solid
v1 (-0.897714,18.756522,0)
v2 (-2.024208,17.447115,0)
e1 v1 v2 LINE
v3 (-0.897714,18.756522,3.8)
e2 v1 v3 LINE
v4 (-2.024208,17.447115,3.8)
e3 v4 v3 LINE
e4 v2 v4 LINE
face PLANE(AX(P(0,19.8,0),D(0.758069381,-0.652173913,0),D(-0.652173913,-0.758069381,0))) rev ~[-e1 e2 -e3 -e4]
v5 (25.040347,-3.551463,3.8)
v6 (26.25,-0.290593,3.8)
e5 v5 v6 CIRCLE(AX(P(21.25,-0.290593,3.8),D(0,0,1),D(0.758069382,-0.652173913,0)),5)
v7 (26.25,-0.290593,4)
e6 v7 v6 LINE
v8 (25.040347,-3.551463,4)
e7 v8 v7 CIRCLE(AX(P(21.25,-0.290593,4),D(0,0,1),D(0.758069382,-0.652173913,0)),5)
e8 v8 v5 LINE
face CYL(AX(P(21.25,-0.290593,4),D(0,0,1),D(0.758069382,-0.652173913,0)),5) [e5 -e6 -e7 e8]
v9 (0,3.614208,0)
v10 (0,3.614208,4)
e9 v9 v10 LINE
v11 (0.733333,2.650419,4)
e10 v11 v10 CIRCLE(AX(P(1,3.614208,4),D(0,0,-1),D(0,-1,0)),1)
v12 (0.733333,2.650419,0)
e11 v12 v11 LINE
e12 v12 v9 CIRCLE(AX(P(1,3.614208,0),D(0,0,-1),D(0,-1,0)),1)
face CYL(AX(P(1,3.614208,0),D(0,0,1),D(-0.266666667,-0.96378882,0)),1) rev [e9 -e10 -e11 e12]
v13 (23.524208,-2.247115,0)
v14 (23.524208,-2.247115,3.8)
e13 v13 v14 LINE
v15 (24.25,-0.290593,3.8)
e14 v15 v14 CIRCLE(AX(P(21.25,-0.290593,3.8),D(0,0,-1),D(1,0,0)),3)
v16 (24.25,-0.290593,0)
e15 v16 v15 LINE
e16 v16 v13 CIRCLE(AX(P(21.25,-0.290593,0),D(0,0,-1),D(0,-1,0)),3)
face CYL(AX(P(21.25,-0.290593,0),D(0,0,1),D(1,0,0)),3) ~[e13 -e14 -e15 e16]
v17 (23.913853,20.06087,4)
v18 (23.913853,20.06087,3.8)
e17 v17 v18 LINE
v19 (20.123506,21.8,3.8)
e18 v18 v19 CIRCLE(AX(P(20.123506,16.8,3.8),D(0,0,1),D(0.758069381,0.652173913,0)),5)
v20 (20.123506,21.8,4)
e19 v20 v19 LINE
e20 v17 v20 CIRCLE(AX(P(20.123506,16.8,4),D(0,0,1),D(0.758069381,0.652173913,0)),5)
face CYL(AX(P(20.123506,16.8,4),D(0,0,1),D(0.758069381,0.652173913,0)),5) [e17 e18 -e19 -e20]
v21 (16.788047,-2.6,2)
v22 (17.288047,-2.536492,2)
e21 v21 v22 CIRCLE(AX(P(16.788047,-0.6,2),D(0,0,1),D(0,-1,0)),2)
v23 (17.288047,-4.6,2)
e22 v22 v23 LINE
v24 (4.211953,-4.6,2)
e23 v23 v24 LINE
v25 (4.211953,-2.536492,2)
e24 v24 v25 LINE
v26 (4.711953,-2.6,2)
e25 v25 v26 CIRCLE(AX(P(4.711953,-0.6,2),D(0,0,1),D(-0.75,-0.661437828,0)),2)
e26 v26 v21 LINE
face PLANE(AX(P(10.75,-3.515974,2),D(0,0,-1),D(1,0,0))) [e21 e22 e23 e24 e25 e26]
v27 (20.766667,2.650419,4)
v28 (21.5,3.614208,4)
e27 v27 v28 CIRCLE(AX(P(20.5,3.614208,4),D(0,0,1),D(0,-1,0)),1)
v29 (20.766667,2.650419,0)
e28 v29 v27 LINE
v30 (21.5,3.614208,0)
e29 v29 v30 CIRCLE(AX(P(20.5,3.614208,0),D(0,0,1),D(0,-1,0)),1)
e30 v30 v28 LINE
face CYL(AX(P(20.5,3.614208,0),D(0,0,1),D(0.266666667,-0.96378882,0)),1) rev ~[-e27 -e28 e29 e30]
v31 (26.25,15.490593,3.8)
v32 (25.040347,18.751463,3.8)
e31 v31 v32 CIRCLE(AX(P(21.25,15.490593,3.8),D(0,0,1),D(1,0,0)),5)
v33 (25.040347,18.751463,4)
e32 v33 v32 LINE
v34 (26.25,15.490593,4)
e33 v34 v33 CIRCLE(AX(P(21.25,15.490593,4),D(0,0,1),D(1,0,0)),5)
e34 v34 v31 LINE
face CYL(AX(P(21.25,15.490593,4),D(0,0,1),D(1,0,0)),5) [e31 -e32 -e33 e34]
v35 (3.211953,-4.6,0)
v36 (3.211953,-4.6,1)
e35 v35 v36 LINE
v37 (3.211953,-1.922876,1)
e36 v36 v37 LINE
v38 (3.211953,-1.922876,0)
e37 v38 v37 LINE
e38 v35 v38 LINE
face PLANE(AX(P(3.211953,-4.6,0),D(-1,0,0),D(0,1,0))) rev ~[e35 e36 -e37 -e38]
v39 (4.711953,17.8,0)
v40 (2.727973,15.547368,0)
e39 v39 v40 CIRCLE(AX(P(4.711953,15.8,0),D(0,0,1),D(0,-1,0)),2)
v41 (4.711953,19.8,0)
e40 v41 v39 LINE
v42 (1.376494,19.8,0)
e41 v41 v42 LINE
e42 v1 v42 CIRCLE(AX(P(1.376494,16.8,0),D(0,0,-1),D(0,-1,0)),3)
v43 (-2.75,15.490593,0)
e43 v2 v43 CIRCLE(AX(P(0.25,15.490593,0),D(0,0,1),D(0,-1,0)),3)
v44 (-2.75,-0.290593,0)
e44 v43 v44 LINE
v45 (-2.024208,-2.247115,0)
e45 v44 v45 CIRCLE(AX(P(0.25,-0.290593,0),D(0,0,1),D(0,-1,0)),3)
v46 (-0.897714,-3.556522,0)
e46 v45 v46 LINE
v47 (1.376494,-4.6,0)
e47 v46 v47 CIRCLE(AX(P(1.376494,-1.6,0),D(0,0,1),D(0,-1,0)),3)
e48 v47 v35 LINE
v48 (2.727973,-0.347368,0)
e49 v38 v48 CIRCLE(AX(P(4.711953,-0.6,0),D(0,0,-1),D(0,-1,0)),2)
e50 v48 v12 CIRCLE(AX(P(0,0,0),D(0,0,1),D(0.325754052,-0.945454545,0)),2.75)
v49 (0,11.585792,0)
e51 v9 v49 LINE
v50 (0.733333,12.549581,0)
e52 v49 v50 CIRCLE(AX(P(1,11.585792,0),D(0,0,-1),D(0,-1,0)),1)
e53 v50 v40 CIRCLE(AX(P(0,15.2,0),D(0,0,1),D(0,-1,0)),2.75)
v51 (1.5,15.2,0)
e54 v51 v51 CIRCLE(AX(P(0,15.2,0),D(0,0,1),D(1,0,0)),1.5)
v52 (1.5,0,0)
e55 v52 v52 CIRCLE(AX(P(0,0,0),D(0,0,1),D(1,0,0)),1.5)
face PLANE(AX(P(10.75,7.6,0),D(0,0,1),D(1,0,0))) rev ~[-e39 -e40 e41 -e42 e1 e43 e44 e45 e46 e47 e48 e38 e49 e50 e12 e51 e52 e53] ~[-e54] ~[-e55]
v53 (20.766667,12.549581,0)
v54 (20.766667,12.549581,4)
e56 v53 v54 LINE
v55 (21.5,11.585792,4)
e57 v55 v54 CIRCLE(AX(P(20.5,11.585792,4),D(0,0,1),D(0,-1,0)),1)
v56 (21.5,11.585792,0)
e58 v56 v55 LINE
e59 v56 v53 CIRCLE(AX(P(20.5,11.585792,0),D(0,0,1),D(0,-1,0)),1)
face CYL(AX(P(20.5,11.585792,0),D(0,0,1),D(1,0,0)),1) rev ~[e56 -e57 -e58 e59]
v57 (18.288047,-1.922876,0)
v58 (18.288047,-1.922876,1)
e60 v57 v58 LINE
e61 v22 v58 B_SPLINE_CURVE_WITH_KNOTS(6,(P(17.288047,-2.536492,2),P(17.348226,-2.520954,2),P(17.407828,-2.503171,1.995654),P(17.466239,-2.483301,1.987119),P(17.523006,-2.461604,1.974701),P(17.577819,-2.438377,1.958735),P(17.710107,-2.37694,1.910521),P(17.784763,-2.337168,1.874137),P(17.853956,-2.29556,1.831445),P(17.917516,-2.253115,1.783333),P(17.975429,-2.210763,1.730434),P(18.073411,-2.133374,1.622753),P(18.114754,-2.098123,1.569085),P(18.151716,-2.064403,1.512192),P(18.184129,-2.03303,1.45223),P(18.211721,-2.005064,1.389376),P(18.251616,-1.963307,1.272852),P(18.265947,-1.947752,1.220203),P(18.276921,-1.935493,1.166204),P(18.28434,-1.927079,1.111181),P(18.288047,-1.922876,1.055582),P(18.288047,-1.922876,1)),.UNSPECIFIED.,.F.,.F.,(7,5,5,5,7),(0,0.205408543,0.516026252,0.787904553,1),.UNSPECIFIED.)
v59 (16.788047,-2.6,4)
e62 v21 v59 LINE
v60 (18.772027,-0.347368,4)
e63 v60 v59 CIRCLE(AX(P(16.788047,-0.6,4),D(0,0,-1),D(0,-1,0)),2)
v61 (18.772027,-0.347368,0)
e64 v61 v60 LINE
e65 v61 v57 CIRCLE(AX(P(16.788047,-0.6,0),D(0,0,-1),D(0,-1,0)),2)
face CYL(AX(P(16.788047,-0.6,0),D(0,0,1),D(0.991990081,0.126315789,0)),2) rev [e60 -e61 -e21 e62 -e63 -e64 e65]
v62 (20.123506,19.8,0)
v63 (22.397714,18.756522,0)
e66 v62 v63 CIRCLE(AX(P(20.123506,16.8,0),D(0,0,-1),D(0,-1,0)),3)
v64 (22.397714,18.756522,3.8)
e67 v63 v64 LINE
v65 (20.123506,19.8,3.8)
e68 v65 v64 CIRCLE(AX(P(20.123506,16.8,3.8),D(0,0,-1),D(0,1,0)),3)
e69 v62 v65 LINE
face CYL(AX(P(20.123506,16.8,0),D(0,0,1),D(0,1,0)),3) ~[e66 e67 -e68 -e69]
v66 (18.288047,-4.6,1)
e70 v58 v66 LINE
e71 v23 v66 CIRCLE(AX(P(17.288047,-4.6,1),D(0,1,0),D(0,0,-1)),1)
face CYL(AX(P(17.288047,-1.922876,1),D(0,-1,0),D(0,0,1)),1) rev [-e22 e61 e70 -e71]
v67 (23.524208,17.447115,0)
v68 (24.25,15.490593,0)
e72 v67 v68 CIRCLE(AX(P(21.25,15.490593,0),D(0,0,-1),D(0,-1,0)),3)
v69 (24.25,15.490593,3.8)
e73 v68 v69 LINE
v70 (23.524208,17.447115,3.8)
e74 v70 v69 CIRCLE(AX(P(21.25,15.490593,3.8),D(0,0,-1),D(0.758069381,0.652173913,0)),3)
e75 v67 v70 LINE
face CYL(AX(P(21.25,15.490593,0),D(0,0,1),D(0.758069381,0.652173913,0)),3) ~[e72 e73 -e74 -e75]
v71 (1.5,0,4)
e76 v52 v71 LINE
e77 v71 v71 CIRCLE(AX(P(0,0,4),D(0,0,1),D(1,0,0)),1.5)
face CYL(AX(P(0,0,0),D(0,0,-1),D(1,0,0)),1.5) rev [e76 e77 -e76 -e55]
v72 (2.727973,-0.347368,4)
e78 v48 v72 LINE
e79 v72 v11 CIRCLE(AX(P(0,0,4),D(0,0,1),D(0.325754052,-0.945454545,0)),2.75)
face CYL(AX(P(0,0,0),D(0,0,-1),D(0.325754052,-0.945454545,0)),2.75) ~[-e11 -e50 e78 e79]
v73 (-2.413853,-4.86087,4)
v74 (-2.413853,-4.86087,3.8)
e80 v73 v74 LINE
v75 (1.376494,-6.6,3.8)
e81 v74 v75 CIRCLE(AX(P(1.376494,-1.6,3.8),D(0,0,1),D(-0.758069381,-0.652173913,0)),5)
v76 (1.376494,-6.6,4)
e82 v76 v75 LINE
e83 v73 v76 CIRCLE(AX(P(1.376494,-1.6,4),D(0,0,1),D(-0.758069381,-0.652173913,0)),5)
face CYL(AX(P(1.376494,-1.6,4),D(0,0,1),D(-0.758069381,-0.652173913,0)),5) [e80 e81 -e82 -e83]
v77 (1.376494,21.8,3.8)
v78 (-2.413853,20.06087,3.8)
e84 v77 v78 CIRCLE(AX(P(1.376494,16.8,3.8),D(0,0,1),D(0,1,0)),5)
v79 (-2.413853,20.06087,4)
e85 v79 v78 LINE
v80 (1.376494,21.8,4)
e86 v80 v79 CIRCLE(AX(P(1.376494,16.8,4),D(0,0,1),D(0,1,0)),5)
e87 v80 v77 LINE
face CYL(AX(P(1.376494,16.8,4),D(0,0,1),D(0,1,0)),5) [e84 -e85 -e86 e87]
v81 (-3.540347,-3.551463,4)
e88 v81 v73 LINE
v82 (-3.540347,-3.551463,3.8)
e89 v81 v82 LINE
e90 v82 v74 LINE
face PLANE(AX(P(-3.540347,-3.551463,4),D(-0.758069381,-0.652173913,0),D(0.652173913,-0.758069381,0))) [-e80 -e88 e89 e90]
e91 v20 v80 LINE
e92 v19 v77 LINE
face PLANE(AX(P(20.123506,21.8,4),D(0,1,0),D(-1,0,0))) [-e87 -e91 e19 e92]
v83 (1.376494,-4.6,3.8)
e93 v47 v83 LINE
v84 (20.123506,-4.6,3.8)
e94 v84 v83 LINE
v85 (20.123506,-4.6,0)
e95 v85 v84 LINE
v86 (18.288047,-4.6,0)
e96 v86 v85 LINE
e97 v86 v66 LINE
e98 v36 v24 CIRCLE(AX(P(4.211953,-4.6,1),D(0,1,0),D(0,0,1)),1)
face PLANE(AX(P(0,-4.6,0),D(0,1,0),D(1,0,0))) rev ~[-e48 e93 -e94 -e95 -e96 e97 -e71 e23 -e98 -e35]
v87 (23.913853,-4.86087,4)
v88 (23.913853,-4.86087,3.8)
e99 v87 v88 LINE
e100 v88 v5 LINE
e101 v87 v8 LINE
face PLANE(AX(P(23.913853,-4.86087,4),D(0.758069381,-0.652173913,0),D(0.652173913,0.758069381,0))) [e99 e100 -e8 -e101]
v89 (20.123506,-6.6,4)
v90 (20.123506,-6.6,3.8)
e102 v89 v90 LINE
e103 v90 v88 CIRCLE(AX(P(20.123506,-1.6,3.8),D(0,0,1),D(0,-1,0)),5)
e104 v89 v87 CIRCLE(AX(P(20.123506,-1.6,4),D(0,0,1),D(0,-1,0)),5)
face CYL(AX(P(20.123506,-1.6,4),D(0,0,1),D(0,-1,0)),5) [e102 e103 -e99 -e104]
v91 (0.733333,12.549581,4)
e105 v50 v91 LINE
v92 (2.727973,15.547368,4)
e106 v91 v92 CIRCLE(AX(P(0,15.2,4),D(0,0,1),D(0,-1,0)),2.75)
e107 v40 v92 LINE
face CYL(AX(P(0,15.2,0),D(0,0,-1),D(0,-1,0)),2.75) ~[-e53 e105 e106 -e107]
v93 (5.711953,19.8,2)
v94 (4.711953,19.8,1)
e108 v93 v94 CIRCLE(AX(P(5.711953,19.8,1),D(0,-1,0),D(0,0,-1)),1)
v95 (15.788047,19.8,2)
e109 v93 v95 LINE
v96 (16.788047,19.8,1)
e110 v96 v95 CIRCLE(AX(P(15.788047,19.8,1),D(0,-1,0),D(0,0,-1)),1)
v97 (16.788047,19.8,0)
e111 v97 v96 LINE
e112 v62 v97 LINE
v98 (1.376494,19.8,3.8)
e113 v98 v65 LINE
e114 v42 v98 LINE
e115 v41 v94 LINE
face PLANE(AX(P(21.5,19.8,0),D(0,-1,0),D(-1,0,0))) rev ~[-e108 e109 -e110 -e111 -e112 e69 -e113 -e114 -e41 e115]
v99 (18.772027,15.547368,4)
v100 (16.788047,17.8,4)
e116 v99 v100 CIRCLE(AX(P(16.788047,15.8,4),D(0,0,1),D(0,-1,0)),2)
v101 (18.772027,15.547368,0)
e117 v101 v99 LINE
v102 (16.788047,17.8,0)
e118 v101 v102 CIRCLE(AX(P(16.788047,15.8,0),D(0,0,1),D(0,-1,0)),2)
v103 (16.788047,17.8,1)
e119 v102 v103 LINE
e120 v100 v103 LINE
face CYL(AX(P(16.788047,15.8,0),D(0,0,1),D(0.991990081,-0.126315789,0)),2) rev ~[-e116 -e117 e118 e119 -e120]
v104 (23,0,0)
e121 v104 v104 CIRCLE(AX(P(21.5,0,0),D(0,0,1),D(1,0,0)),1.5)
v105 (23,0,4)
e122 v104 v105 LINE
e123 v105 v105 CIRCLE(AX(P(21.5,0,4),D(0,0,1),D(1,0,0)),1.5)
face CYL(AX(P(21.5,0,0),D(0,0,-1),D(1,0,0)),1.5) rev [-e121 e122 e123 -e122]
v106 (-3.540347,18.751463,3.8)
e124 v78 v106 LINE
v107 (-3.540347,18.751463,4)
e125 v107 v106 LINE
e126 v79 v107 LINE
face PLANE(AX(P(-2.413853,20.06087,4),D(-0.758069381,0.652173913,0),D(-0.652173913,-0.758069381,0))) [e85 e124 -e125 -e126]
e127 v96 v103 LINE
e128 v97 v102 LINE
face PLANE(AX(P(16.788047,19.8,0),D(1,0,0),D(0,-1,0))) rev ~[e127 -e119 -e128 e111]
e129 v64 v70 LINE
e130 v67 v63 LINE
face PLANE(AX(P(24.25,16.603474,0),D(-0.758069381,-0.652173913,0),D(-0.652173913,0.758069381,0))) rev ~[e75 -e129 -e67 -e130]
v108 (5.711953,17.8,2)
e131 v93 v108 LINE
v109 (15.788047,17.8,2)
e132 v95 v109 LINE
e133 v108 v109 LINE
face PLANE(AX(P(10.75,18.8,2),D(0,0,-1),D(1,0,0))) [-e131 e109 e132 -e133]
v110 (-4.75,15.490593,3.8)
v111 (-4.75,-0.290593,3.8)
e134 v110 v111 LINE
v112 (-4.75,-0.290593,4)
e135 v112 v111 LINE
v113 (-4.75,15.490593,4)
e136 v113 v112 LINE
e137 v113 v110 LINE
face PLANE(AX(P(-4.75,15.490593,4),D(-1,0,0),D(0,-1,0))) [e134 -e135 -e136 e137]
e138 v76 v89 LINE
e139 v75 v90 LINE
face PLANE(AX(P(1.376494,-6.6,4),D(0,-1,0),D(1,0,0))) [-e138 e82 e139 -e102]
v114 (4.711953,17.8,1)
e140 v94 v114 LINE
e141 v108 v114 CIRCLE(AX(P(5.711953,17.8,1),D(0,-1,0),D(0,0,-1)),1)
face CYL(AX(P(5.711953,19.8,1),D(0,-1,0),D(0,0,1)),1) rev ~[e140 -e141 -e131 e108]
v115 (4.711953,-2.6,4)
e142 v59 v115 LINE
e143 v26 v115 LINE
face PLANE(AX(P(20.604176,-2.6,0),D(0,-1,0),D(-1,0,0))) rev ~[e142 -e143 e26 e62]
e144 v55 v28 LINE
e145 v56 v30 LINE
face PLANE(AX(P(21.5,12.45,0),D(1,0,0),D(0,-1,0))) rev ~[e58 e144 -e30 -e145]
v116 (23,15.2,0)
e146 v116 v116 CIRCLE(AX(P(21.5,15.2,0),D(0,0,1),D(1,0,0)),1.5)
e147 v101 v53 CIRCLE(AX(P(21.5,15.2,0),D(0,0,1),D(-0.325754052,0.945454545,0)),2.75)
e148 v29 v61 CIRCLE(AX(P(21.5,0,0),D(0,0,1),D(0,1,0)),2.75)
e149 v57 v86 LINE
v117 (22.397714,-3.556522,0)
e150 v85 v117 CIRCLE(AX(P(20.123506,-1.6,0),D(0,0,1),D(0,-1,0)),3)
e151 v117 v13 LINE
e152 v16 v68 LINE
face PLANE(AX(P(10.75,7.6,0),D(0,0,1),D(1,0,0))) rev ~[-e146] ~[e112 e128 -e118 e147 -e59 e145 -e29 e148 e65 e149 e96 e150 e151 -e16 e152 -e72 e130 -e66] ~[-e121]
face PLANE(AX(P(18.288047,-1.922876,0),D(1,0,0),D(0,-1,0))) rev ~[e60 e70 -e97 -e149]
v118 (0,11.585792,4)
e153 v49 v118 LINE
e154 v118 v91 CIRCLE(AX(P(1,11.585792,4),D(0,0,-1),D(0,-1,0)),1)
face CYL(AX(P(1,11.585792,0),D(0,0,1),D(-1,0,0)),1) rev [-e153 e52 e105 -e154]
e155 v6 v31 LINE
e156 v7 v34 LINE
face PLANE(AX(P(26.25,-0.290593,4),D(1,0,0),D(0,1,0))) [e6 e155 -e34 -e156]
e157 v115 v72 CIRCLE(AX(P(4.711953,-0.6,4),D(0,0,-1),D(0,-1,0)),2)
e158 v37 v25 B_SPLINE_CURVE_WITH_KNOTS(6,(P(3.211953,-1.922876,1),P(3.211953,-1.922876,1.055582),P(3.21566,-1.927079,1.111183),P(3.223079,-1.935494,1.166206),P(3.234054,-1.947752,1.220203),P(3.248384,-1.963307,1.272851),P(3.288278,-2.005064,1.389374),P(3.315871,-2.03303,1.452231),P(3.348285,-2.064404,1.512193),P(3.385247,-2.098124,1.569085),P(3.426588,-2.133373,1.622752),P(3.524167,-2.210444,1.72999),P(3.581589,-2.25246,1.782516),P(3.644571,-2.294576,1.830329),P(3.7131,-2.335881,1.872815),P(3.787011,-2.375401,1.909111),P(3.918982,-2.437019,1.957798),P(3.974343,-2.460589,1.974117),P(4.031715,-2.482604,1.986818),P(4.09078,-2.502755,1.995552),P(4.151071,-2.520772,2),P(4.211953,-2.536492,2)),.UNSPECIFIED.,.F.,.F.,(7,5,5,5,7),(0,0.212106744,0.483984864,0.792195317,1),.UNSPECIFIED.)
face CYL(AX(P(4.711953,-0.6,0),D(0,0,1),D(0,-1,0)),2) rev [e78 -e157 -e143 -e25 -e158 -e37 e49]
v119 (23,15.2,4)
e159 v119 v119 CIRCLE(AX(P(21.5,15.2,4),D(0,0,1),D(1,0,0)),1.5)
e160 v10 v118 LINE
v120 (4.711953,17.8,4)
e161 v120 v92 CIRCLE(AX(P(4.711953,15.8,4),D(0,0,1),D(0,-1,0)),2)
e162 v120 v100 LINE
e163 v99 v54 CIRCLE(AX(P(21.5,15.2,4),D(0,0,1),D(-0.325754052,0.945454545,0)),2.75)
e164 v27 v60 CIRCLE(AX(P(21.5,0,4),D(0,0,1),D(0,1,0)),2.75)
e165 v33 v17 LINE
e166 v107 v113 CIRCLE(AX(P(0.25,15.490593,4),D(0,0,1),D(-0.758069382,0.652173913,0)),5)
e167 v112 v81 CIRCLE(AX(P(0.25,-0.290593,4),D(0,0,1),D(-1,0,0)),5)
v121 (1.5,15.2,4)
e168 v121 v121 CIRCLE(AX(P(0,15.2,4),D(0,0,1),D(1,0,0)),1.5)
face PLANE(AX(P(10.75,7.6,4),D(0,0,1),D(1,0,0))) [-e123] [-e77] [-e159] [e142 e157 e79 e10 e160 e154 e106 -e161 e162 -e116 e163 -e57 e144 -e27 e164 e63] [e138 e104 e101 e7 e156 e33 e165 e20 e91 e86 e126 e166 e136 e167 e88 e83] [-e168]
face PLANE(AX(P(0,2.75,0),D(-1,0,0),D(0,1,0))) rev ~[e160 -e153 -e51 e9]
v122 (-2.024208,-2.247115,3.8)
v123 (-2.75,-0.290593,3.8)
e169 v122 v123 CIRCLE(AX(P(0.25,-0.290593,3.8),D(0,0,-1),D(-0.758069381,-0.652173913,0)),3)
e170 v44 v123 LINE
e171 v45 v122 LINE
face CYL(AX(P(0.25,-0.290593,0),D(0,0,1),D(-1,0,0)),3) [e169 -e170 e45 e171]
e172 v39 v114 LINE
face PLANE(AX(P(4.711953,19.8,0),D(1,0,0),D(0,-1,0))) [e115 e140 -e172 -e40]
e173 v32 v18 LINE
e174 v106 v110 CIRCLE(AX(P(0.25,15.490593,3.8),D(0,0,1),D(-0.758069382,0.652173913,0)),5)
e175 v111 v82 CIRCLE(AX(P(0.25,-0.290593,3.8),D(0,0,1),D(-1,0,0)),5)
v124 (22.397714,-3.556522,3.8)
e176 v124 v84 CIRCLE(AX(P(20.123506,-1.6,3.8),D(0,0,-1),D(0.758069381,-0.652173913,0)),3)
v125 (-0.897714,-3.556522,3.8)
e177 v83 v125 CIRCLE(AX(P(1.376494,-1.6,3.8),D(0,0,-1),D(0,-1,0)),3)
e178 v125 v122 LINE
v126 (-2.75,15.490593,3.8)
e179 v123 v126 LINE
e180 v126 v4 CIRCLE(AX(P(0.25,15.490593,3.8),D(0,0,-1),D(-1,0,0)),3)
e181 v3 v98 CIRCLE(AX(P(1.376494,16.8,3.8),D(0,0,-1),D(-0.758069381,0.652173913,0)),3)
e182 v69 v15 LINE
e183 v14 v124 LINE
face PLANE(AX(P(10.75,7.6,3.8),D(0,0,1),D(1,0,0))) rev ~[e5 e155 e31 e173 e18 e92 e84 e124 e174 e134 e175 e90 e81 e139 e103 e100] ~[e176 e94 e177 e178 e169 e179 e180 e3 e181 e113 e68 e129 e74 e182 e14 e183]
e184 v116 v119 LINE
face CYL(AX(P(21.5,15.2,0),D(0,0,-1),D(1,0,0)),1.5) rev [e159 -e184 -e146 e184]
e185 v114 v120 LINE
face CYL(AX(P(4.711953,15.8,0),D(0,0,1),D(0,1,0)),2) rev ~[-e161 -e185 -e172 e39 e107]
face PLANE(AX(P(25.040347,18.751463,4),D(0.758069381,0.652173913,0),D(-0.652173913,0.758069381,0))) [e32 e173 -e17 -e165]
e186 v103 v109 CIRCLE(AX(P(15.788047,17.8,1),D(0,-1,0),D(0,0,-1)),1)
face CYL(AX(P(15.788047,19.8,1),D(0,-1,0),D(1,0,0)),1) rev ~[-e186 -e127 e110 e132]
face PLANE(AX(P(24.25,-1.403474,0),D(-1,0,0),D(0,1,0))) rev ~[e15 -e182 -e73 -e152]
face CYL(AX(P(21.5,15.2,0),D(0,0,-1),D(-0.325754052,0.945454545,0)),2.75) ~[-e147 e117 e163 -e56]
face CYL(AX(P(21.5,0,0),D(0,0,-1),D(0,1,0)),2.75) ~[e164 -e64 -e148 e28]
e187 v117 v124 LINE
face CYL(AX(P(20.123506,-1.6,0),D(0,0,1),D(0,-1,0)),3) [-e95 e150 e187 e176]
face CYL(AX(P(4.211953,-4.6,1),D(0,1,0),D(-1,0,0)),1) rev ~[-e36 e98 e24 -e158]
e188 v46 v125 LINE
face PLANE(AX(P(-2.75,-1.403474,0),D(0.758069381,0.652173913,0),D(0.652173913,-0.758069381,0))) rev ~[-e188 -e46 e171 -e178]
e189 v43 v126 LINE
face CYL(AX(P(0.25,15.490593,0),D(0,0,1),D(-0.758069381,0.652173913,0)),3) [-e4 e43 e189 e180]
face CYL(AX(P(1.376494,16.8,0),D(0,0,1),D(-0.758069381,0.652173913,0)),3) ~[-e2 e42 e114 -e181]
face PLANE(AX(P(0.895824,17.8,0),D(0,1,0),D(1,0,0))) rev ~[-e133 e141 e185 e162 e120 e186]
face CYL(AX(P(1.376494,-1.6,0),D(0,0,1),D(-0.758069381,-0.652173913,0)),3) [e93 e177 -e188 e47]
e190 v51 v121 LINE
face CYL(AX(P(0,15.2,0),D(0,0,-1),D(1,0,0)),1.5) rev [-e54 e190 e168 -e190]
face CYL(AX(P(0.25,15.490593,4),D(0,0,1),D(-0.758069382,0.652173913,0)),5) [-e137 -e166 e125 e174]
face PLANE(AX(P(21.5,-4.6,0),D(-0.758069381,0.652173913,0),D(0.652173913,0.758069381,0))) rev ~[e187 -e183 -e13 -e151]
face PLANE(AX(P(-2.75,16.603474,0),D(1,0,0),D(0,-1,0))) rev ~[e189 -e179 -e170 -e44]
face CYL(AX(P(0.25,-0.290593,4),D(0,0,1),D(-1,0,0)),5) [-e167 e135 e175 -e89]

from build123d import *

# Parameters (mm, degrees)
F0_R     = 1.5
F1_DEPTH = 4
F2_R     = 2
F3_R     = 1
F4_R     = 3
F5_W     = 12.076094228
F5_H     = 2
F6_DEPTH = 2
F8_DEPTH = 0.2
F9_R     = 1


with BuildPart() as f1:
    # F0 (on Top) → F1 (new body)
    with BuildSketch(Plane.XY):
        Polygon((0, 19.8), (-2.75, 16.6034741081), (-2.75, -1.4034741081), (0, -4.6), (21.5, -4.6), (24.25, -1.4034741081), (24.25, 16.6034741081), (21.5, 19.8), align=None)
        Circle(F0_R, mode=Mode.SUBTRACT)
        with Locations((21.5, 0)):
            Circle(F0_R, mode=Mode.SUBTRACT)
        with Locations((0, 15.2)):
            Circle(F0_R, mode=Mode.SUBTRACT)
        with BuildLine():
            Line((20.6041763566, -2.6), (0.8958236434, -2.6))
            ThreePointArc((0.8958236434, -2.6), (2.712240771, 0.4541475531), (0, 2.75))
            Line((0, 2.75), (0, 12.45))
            ThreePointArc((0, 12.45), (2.712240771, 14.7458524469), (0.8958236434, 17.8))
            Line((0.8958236434, 17.8), (20.6041763566, 17.8))
            ThreePointArc((20.6041763566, 17.8), (18.787759229, 14.7458524469), (21.5, 12.45))
            Line((21.5, 12.45), (21.5, 2.75))
            ThreePointArc((21.5, 2.75), (18.787759229, 0.4541475531), (20.6041763566, -2.6))
        make_face(mode=Mode.SUBTRACT)
        with Locations((21.5, 15.2)):
            Circle(F0_R, mode=Mode.SUBTRACT)
    extrude(amount=F1_DEPTH)

    # F2
    f2_edges = [f1.edges().sort_by_distance(p)[0] for p in [
        (0.895824, 17.8, 2),
        (20.604176, 17.8, 2),
        (0.895824, -2.6, 2),
        (20.604176, -2.6, 2),
    ]]
    fillet(f2_edges, radius=F2_R)

    # F3
    f3_edges = [f1.edges().sort_by_distance(p)[0] for p in [
        (0, 12.45, 2),
        (0, 2.75, 2),
        (21.5, 12.45, 2),
        (21.5, 2.75, 2),
    ]]
    fillet(f3_edges, radius=F3_R)

    # F4
    f4_edges = [f1.edges().sort_by_distance(p)[0] for p in [
        (0, -4.6, 2),
        (21.5, -4.6, 2),
        (24.25, -1.403474, 2),
        (24.25, 16.603474, 2),
        (21.5, 19.8, 2),
        (0, 19.8, 2),
        (-2.75, 16.603474, 2),
        (-2.75, -1.403474, 2),
    ]]
    fillet(f4_edges, radius=F4_R)

    # F5 (on face) → F6 (cut)
    with BuildSketch(Plane(origin=(0, 0, 0), x_dir=(1, 0, 0), z_dir=(0, 0, -1))):
        with Locations((10.75, -18.8)):
            Rectangle(F5_W, F5_H)
        with BuildLine():
            Line((3.211952886, 4.6), (3.211952886, 1.9228756555))
            ThreePointArc((3.211952886, 1.9228756555), (3.8890772305, 2.4228756555), (4.711952886, 2.6))
            Line((4.711952886, 2.6), (16.788047114, 2.6))
            ThreePointArc((16.788047114, 2.6), (17.6109227695, 2.4228756555), (18.288047114, 1.9228756555))
            Line((18.288047114, 1.9228756555), (18.288047114, 4.6))
            Line((18.288047114, 4.6), (3.211952886, 4.6))
        make_face()
    extrude(amount=-F6_DEPTH, mode=Mode.SUBTRACT)

    # F7 (on face) → F8 (join)
    with BuildSketch(Plane.XY.offset(4)):
        with BuildLine():
            ThreePointArc((-3.5403469074, 18.7514628281), (-4.4378424961, 17.2295966359), (-4.75, 15.4905932629))
            Line((-4.75, 15.4905932629), (-4.75, -0.2905932629))
            ThreePointArc((-4.75, -0.2905932629), (-4.4378424961, -2.0295966359), (-3.5403469074, -3.5514628281))
            Line((-3.5403469074, -3.5514628281), (-2.4138525042, -4.8608695652))
            ThreePointArc((-2.4138525042, -4.8608695652), (-0.7086497373, -6.1444662957), (1.3764944032, -6.6))
            Line((1.3764944032, -6.6), (20.1235055968, -6.6))
            ThreePointArc((20.1235055968, -6.6), (22.2086497373, -6.1444662957), (23.9138525042, -4.8608695652))
            Line((23.9138525042, -4.8608695652), (25.0403469074, -3.5514628281))
            ThreePointArc((25.0403469074, -3.5514628281), (25.9378424961, -2.0295966359), (26.25, -0.2905932629))
            Line((26.25, -0.2905932629), (26.25, 15.4905932629))
            ThreePointArc((26.25, 15.4905932629), (25.9378424961, 17.2295966359), (25.0403469074, 18.7514628281))
            Line((25.0403469074, 18.7514628281), (23.9138525042, 20.0608695652))
            ThreePointArc((23.9138525042, 20.0608695652), (22.2086497373, 21.3444662957), (20.1235055968, 21.8))
            Line((20.1235055968, 21.8), (1.3764944032, 21.8))
            ThreePointArc((1.3764944032, 21.8), (-0.7086497373, 21.3444662957), (-2.4138525042, 20.0608695652))
            Line((-2.4138525042, 20.0608695652), (-3.5403469074, 18.7514628281))
        make_face()
        with BuildLine():
            Line((-2.75, -0.2905932629), (-2.75, 15.4905932629))
            ThreePointArc((-2.75, 15.4905932629), (-2.5627054977, 16.5339952867), (-2.0242081445, 17.447115002))
            Line((-2.0242081445, 17.447115002), (-0.8977137412, 18.7565217391))
            ThreePointArc((-0.8977137412, 18.7565217391), (0.1254079189, 19.5266797774), (1.3764944032, 19.8))
            Line((1.3764944032, 19.8), (20.1235055968, 19.8))
            ThreePointArc((20.1235055968, 19.8), (21.3745920811, 19.5266797774), (22.3977137412, 18.7565217391))
            Line((22.3977137412, 18.7565217391), (23.5242081445, 17.447115002))
            ThreePointArc((23.5242081445, 17.447115002), (24.0627054977, 16.5339952867), (24.25, 15.4905932629))
            Line((24.25, 15.4905932629), (24.25, -0.2905932629))
            ThreePointArc((24.25, -0.2905932629), (24.0627054977, -1.3339952867), (23.5242081445, -2.247115002))
            Line((23.5242081445, -2.247115002), (22.3977137412, -3.5565217391))
            ThreePointArc((22.3977137412, -3.5565217391), (21.3745920811, -4.3266797774), (20.1235055968, -4.6))
            Line((20.1235055968, -4.6), (1.3764944032, -4.6))
            ThreePointArc((1.3764944032, -4.6), (0.1254079189, -4.3266797774), (-0.8977137412, -3.5565217391))
            Line((-0.8977137412, -3.5565217391), (-2.0242081445, -2.247115002))
            ThreePointArc((-2.0242081445, -2.247115002), (-2.5627054977, -1.3339952867), (-2.75, -0.2905932629))
        make_face(mode=Mode.SUBTRACT)
    extrude(amount=-F8_DEPTH)

    # F9
    f9_edges = [f1.edges().sort_by_distance(p)[0] for p in [
        (3.211953, -3.261438, 2),
        (18.288047, -3.261438, 2),
        (16.788047, 18.8, 2),
        (4.711953, 18.8, 2),
    ]]
    fillet(f9_edges, radius=F9_R)


solid = f1.part
